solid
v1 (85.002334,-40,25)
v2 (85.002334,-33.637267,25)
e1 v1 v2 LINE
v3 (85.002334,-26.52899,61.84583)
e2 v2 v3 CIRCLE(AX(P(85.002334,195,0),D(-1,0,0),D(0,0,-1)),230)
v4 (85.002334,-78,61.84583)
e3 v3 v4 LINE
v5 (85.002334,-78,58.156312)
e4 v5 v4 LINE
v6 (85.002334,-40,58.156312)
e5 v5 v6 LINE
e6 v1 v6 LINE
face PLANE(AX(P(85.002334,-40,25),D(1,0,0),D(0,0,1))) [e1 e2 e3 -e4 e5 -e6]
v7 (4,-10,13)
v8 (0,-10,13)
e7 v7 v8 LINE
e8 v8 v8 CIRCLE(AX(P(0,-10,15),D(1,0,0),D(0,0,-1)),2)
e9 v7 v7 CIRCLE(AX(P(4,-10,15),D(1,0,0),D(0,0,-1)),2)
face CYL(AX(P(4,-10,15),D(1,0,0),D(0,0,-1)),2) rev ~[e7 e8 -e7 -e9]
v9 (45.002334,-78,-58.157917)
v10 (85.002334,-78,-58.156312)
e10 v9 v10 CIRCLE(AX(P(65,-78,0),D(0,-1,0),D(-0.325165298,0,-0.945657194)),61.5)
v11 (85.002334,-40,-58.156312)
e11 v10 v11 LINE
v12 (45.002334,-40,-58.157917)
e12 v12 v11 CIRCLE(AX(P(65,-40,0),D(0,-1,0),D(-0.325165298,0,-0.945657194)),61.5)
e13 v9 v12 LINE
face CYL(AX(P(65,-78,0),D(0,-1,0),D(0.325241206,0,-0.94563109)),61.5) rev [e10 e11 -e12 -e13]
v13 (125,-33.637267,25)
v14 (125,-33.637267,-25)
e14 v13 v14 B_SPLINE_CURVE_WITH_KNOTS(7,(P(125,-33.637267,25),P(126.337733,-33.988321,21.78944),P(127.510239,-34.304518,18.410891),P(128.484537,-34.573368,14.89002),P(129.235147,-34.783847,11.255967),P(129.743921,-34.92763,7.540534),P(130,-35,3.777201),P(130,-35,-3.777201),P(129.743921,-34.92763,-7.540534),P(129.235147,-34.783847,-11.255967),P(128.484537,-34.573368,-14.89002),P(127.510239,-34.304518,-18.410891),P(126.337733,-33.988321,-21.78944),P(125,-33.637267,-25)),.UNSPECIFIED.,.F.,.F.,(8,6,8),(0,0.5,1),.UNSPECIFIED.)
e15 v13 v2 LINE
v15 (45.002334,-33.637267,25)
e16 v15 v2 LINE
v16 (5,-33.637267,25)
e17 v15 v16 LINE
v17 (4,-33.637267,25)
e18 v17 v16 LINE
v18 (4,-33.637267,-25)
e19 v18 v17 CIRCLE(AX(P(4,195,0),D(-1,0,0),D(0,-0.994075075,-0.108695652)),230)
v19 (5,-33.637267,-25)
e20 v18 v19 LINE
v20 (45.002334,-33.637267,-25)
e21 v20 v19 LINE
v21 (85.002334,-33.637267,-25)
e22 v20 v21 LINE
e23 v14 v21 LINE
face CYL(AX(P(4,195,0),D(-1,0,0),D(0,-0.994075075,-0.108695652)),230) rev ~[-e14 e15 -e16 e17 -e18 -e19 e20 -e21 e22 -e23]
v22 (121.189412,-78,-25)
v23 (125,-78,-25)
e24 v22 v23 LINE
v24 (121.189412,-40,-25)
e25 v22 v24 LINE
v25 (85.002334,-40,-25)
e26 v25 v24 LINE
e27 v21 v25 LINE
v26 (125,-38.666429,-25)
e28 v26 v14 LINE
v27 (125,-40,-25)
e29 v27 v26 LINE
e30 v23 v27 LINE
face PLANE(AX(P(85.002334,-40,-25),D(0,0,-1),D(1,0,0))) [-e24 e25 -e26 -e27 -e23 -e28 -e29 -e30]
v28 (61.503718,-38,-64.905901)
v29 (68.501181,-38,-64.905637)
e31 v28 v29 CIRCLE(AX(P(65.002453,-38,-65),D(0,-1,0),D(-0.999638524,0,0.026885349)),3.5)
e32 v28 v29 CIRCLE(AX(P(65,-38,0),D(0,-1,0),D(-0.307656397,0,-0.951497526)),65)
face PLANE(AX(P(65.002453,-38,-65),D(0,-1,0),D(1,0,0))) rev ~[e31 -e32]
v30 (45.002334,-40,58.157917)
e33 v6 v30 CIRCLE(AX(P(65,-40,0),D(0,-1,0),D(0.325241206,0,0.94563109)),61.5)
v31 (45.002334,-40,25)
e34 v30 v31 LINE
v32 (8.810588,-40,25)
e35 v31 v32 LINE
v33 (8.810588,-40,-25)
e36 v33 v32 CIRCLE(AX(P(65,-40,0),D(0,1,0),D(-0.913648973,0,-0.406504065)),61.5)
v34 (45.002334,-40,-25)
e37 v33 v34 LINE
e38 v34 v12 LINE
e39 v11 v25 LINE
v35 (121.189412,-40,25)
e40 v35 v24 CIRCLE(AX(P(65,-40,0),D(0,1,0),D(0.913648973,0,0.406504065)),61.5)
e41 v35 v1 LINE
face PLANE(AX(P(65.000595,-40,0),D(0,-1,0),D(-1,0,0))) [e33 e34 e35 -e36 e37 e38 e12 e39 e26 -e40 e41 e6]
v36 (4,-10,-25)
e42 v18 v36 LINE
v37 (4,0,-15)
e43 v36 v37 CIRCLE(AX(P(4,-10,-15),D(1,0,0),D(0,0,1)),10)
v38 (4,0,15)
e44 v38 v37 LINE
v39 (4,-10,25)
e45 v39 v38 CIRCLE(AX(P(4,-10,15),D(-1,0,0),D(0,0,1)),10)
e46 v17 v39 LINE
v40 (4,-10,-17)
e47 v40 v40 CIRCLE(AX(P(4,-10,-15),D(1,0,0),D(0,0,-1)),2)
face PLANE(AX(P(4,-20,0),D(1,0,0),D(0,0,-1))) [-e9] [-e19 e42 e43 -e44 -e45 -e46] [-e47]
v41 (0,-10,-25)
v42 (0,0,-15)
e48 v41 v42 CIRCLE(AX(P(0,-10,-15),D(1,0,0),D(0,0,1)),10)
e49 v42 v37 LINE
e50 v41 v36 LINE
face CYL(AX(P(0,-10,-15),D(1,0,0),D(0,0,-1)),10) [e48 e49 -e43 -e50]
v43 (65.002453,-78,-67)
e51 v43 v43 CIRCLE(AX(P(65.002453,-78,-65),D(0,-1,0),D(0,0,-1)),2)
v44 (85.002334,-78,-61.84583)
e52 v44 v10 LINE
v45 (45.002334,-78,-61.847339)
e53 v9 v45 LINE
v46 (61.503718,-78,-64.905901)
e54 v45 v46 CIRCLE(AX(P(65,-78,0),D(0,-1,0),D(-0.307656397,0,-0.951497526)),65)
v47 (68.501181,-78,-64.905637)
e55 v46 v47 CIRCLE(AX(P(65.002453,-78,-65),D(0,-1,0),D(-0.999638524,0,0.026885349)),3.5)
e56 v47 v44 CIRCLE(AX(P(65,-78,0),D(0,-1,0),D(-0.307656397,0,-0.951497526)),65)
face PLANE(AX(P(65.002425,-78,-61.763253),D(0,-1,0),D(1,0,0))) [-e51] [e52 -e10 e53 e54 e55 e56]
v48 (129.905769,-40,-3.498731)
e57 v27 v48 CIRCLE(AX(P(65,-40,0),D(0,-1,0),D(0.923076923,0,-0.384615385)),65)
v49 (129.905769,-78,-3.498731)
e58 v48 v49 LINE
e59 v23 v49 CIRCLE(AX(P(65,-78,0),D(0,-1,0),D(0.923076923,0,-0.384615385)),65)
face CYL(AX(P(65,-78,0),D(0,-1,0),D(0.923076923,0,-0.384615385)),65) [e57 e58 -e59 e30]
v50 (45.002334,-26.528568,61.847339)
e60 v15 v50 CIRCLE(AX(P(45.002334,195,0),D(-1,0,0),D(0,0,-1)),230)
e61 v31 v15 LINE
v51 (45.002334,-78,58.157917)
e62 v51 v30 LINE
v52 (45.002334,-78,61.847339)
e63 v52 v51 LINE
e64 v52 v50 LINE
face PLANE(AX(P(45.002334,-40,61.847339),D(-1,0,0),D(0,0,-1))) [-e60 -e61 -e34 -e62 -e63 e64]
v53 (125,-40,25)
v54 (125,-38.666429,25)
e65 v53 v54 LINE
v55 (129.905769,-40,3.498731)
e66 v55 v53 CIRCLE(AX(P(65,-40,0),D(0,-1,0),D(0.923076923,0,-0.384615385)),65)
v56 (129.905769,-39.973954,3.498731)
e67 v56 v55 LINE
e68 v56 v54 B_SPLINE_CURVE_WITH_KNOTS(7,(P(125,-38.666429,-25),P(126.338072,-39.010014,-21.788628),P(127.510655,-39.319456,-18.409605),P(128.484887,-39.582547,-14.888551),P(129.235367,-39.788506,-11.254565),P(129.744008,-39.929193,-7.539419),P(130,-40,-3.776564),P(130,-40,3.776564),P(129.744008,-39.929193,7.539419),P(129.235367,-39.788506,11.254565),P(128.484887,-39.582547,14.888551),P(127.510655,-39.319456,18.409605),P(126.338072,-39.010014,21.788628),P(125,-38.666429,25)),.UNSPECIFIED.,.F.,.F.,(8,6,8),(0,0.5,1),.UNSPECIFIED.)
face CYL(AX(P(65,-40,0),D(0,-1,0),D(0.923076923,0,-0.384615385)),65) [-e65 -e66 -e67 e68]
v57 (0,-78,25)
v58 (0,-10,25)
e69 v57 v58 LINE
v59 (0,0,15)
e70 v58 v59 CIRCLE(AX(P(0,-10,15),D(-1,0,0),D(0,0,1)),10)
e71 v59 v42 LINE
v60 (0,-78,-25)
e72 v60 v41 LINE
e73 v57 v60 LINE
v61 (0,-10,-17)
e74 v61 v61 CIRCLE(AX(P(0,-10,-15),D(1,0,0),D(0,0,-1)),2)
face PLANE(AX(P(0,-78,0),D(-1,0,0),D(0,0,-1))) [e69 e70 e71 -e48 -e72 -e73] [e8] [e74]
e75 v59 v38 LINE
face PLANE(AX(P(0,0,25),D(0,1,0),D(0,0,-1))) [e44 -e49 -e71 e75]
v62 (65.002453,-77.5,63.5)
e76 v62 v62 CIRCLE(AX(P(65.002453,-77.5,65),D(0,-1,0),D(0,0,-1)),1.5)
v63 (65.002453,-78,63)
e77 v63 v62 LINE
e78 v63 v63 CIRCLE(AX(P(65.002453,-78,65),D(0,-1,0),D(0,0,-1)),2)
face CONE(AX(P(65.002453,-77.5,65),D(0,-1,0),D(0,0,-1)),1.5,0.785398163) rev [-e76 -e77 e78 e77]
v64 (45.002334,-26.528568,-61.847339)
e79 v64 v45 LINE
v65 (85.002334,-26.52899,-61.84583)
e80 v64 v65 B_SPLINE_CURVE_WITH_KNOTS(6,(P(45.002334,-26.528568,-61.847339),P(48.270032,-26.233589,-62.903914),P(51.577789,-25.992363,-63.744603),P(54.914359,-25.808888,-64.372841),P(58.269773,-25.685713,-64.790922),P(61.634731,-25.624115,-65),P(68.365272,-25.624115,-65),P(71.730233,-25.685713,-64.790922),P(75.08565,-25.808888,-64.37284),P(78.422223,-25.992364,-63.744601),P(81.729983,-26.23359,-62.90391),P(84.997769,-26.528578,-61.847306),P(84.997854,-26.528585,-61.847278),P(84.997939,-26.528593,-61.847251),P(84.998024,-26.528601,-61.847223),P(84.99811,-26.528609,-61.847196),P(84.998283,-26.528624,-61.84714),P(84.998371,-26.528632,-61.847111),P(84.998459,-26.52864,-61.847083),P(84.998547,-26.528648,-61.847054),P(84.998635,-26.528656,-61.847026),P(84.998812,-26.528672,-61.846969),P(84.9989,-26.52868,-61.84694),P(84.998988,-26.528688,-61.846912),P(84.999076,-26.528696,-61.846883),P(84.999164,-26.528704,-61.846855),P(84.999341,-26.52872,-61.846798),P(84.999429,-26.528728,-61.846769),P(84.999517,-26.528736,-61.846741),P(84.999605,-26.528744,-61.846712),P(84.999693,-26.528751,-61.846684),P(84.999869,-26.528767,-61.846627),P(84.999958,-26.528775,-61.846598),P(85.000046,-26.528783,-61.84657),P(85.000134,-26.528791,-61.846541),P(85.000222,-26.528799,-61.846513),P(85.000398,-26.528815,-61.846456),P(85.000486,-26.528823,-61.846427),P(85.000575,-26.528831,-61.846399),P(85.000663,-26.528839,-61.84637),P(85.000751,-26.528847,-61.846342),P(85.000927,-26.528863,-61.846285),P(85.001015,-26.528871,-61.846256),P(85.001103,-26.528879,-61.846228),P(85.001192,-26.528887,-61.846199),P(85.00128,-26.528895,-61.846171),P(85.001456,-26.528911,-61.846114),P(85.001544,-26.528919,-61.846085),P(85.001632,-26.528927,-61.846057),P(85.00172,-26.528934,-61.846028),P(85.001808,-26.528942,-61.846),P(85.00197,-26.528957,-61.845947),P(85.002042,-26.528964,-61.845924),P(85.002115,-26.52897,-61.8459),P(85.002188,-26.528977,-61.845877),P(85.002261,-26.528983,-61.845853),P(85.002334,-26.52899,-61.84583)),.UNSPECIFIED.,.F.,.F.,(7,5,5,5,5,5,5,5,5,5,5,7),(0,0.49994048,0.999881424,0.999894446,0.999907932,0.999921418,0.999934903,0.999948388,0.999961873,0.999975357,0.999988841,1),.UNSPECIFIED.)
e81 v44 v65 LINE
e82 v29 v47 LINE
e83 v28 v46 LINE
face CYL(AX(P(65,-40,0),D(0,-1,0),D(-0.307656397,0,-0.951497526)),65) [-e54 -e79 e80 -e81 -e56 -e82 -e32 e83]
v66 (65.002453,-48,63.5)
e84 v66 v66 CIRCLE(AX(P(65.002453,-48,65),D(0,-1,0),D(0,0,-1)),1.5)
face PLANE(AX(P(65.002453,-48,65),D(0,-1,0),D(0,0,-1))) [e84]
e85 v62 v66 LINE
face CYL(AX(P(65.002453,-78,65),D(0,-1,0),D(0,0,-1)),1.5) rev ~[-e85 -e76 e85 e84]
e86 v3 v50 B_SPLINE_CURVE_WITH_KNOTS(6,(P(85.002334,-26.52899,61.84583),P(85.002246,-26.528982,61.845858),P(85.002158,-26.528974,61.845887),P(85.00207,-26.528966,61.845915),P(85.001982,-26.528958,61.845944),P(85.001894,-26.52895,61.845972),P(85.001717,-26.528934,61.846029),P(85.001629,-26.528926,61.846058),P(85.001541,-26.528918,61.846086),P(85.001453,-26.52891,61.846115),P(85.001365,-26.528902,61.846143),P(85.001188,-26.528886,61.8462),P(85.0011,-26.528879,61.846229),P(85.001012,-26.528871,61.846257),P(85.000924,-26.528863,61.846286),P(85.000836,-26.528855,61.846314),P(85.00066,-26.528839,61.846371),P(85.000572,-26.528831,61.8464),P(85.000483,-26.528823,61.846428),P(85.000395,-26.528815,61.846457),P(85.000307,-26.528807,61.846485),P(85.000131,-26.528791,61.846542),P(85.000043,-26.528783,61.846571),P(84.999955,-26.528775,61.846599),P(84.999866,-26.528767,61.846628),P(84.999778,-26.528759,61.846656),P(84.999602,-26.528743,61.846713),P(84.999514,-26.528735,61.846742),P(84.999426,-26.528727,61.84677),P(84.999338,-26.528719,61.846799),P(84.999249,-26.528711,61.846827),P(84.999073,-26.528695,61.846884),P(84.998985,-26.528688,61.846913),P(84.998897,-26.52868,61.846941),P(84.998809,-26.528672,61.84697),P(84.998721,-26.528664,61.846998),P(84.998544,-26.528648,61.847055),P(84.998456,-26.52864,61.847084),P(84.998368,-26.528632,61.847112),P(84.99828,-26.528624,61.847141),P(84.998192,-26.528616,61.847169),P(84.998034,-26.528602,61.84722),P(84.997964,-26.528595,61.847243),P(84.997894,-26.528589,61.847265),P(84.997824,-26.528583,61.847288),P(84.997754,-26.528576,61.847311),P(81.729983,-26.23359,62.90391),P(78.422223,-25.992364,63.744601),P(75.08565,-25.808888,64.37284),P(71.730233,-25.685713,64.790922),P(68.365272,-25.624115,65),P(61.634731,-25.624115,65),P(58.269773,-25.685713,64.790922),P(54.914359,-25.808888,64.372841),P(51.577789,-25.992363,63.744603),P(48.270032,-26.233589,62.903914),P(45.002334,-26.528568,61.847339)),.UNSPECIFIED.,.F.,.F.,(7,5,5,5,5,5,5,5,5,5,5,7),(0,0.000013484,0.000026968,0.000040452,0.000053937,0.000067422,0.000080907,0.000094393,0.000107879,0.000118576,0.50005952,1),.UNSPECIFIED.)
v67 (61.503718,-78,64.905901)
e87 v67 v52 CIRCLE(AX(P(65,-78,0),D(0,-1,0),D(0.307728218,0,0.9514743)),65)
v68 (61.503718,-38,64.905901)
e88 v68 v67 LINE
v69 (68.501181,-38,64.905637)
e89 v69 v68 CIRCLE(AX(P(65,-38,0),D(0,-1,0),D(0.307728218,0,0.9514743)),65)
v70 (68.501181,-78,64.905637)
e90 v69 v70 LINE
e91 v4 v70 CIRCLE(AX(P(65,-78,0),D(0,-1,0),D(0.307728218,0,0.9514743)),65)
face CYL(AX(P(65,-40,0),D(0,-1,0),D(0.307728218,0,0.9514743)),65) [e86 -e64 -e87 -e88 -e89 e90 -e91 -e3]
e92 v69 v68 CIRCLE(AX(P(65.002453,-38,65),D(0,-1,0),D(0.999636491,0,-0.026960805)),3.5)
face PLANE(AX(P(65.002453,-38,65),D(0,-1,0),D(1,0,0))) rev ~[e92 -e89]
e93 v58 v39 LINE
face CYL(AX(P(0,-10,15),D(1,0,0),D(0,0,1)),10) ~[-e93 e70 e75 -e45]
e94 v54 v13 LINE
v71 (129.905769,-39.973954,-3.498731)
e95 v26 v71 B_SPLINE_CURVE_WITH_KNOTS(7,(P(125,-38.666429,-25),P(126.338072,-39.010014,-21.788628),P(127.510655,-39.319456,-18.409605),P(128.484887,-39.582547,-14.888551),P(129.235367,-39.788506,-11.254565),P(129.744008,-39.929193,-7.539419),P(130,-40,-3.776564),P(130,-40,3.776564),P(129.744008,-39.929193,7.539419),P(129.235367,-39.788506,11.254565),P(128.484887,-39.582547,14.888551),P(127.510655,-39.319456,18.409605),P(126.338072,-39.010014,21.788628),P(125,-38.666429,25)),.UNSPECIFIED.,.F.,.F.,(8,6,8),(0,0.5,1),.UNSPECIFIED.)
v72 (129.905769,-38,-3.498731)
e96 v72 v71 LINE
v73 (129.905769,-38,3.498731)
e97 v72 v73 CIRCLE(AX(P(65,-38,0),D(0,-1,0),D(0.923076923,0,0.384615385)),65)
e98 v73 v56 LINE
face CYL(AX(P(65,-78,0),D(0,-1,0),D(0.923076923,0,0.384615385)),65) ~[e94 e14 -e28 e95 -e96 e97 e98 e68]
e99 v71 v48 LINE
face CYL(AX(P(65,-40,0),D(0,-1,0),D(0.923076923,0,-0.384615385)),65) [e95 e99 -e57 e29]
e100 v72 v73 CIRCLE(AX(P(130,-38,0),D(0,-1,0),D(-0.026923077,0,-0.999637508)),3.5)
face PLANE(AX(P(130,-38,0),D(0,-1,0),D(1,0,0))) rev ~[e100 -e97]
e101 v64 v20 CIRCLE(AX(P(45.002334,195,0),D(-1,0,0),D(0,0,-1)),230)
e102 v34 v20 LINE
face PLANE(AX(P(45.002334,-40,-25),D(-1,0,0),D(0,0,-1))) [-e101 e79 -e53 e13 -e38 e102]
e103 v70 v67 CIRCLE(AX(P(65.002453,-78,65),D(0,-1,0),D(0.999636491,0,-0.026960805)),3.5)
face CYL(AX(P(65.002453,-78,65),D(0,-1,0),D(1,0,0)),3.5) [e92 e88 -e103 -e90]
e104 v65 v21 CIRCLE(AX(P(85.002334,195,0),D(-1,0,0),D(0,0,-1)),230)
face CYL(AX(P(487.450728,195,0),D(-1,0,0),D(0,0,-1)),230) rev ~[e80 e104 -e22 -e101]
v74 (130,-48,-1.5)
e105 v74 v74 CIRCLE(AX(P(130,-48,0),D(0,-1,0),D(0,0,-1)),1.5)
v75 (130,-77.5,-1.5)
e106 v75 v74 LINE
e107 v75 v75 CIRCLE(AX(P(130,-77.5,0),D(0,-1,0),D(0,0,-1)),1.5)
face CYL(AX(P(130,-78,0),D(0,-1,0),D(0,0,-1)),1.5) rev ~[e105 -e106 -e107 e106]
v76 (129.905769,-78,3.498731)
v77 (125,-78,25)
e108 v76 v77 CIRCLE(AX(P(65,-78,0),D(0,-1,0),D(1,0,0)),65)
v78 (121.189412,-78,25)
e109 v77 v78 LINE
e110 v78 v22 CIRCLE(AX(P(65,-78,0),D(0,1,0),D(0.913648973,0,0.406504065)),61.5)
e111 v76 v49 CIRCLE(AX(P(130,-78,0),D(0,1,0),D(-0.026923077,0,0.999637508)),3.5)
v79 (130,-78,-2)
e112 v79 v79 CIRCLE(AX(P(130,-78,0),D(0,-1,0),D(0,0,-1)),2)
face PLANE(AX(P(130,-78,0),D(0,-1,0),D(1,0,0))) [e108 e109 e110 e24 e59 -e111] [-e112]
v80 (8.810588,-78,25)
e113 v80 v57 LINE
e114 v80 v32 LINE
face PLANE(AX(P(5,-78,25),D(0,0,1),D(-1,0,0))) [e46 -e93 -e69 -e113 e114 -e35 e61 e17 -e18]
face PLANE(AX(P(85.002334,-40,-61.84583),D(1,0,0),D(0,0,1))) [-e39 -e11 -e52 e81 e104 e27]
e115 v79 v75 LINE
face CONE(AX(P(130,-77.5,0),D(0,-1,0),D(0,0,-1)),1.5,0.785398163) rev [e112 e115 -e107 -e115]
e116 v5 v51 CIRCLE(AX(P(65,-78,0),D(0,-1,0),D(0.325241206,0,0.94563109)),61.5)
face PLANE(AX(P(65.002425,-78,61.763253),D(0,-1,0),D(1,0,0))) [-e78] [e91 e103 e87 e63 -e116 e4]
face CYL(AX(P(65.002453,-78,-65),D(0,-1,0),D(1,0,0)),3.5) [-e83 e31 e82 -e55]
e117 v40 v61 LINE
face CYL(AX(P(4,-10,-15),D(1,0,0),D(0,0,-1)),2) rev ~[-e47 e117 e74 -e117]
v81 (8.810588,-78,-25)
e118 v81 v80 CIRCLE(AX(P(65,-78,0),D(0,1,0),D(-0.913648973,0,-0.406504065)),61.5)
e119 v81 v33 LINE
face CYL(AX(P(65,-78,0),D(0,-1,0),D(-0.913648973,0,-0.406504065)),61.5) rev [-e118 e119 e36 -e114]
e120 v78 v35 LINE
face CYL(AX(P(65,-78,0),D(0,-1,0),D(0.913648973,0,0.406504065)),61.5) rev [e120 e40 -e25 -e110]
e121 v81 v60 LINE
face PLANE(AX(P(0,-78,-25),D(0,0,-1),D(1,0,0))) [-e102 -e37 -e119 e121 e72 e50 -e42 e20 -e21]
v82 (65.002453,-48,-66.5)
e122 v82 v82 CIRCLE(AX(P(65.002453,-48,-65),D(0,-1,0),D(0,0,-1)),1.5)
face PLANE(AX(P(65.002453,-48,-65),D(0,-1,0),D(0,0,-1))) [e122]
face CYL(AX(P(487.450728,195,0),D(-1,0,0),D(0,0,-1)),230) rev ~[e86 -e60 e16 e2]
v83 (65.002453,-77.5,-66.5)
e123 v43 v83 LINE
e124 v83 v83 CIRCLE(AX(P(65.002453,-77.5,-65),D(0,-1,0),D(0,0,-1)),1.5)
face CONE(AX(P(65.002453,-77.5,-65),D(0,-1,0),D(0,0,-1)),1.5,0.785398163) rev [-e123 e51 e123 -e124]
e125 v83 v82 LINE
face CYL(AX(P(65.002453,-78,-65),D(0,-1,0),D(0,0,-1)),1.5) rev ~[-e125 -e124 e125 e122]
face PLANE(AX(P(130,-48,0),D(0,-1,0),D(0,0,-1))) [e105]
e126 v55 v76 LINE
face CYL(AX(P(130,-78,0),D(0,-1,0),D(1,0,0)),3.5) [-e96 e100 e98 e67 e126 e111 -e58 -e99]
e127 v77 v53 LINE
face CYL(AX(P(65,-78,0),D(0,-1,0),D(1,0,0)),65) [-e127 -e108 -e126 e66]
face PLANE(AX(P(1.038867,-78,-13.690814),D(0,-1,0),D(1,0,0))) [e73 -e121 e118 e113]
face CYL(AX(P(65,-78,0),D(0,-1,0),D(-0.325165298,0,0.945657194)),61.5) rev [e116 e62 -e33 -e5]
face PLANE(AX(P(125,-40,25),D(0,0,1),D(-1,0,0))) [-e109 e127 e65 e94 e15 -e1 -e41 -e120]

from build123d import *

# Parameters (mm, degrees)
SKETCH_1_W           = 50
SKETCH_1_H           = 40
EXTRUDE_1_DEPTH      = 4
SKETCH_2_R           = 2
CUT_EXTRUDE_1_DEPTH  = 4
EXTRUDE_2_DEPTH      = 180
CUT_EXTRUDE_START    = -60
CUT_EXTRUDE_2_DEPTH  = 60
CUT_EXTRUDE_3_DEPTH  = 60
EXTRUDE_3_REACH      = 191.95
EXTRUDE_3_END_RADIUS = 230
EXTRUDE_START        = 38
EXTRUDE_4_DEPTH      = 38
CUT_EXTRUDE_4_DEPTH  = 211.154705038
SKETCH_9_R           = 3.5
EXTRUDE_5_DEPTH      = 40
SKETCH_10_R          = 1.5
CUT_EXTRUDE_5_DEPTH  = 30
CHAMFER_1_SIZE       = 0.5
EXTRUDE_6_REACH      = 171.111
EXTRUDE_6_END_RADIUS = 235
EXTRUDE_7_REACH      = 171.111
FILLET_1_R           = 10


with BuildPart() as part:
    # 草图1 → 凸台-拉伸1 (new body)
    with BuildSketch(Plane(origin=(0, 0, 0), x_dir=(0, 0, -1), z_dir=(1, 0, 0))):
        with Locations((0, -20)):
            Rectangle(SKETCH_1_W, SKETCH_1_H)
    extrude(amount=EXTRUDE_1_DEPTH)

    # 草图2 → 切除-拉伸1 (cut)
    with BuildSketch(Plane(origin=(4, 0, 0), x_dir=(0, 0, -1), z_dir=(1, 0, 0))):
        with Locations((-15, -10)):
            Circle(SKETCH_2_R)
        with Locations((15, -10)):
            Circle(SKETCH_2_R)
    extrude(amount=-CUT_EXTRUDE_1_DEPTH, mode=Mode.SUBTRACT)

    # 草图3 → 凸台-拉伸2 (add)
    with BuildSketch(Plane(origin=(4, 0, 0), x_dir=(0, 0, -1), z_dir=(1, 0, 0))):
        with BuildLine():
            Line((-25, -33.637267303), (-25, -38.666428911))
            ThreePointArc((-25, -38.666428911), (0, -40), (25, -38.666428911))
            Line((25, -38.666428911), (25, -33.637267303))
            ThreePointArc((25, -33.637267303), (0, -35), (-25, -33.637267303))
        make_face()
    extrude(amount=EXTRUDE_2_DEPTH)

    # 草图4 → 切除-拉伸2 (cut)
    with BuildSketch(Plane(origin=(4, 0, 0), x_dir=(0, 0, -1), z_dir=(1, 0, 0)).offset(CUT_EXTRUDE_START)):
        with BuildLine():
            Line((25, -40), (25, -38.666428911))
            ThreePointArc((25, -38.666428911), (12.517771485, -39.666370401), (0, -40))
            Line((0, -40), (25, -40))
        make_face()
    extrude(amount=CUT_EXTRUDE_2_DEPTH, mode=Mode.SUBTRACT)

    # 草图5 → 切除-拉伸3 (cut)
    with BuildSketch(Plane(origin=(4, 0, 0), x_dir=(0, 0, -1), z_dir=(1, 0, 0)).offset(CUT_EXTRUDE_START)):
        with BuildLine():
            Line((-25, -38.666428911), (-25, -40))
            Line((-25, -40), (0, -40))
            ThreePointArc((0, -40), (-12.517771485, -39.666370401), (-25, -38.666428911))
        make_face()
    extrude(amount=CUT_EXTRUDE_3_DEPTH, mode=Mode.SUBTRACT)

    # 凸台-拉伸3: up to this cylinder (the profile starts outside it)
    extrude_3_end = Plane(origin=(65.000728, 195, 0), z_dir=(-1, 0, 0)) * Cylinder(EXTRUDE_3_END_RADIUS, 844.9, mode=Mode.PRIVATE)
    # 草图6 → 凸台-拉伸3 (add, up to the surface)
    with BuildSketch(Plane(origin=(0, -40, 0), x_dir=(-1, 0, 0), z_dir=(0, -1, 0)), mode=Mode.PRIVATE) as extrude_3_sk1:
        with BuildLine():
            Line((-85.002334196, 61.845829501), (-85.002334196, 25))
            Line((-85.002334196, 25), (-125, 25))
            ThreePointArc((-125, 25), (-130, 0), (-125, -25))
            Line((-125, -25), (-85.002334196, -25))
            Line((-85.002334196, -25), (-85.002334196, -61.845829501))
            ThreePointArc((-85.002334196, -61.845829501), (-65.002453212, -64.999999954), (-45.002334196, -61.84733917))
            Line((-45.002334196, -61.84733917), (-45.002334196, -25))
            Line((-45.002334196, -25), (-5, -25))
            ThreePointArc((-5, -25), (0, 0), (-5, 25))
            Line((-5, 25), (-45.002334196, 25))
            Line((-45.002334196, 25), (-45.002334196, 61.84733917))
            ThreePointArc((-45.002334196, 61.84733917), (-65.002453212, 64.999999954), (-85.002334196, 61.845829501))
        make_face()
    extrude_3_tool1 = extrude(extrude_3_sk1.sketch, amount=-EXTRUDE_3_REACH, mode=Mode.PRIVATE) - extrude_3_end
    extrude_3 = extrude_3_tool1.solids().sort_by_distance((65.000728, -40, 0))[0]
    add(extrude_3)

    # 镜向1: 凸台-拉伸3 across plane
    add(extrude_3.mirror(Plane.XY))

    # 草图7 → 凸台-拉伸4 (add)
    with BuildSketch(Plane.XZ.offset(40).offset(EXTRUDE_START)):
        with BuildLine():
            Line((5, -25), (8.810588186, -25))
            ThreePointArc((8.810588186, -25), (3.5, 0), (8.810588186, 25))
            Line((8.810588186, 25), (5, 25))
            ThreePointArc((5, 25), (1.26225608, 12.747548784), (0, 0))
            ThreePointArc((0, 0), (1.26225608, -12.747548784), (5, -25))
        make_face()
        with BuildLine():
            Line((45.002334196, -58.157917452), (45.002334196, -61.84733917))
            ThreePointArc((45.002334196, -61.84733917), (65.002453212, -64.999999954), (85.002334196, -61.845829501))
            Line((85.002334196, -61.845829501), (85.002334196, -58.156312011))
            ThreePointArc((85.002334196, -58.156312011), (65.002468367, -61.49999995), (45.002334196, -58.157917452))
        make_face()
        with BuildLine():
            Line((121.189411814, -25), (125, -25))
            ThreePointArc((125, -25), (128.73774392, -12.747548784), (130, 0))
            ThreePointArc((130, 0), (128.73774392, 12.747548784), (125, 25))
            Line((125, 25), (121.189411814, 25))
            ThreePointArc((121.189411814, 25), (126.5, 0), (121.189411814, -25))
        make_face()
        with BuildLine():
            Line((85.002334196, 58.156312011), (85.002334196, 61.845829501))
            ThreePointArc((85.002334196, 61.845829501), (65.002453212, 64.999999954), (45.002334196, 61.84733917))
            Line((45.002334196, 61.84733917), (45.002334196, 58.157917452))
            ThreePointArc((45.002334196, 58.157917452), (65.002468367, 61.49999995), (85.002334196, 58.156312011))
        make_face()
    extrude(amount=-EXTRUDE_4_DEPTH)

    # 草图8 → 切除-拉伸4 (cut, through all)
    with BuildSketch(Plane.XZ.offset(78)):
        with BuildLine():
            Line((184, 25), (125, 25))
            ThreePointArc((125, 25), (130, 0), (125, -25))
            Line((125, -25), (184, -25))
            Line((184, -25), (184, 25))
        make_face()
    extrude(amount=-CUT_EXTRUDE_4_DEPTH, mode=Mode.SUBTRACT)

    # 草图9 → 凸台-拉伸5 (add)
    with BuildSketch(Plane.XZ.offset(78)):
        with Locations((130, 0)):
            Circle(SKETCH_9_R)
        with Locations((65.002453212, -64.999999954)):
            Circle(SKETCH_9_R)
        with Locations((65.002453212, 64.999999954)):
            Circle(SKETCH_9_R)
    extrude(amount=-EXTRUDE_5_DEPTH)

    # 草图10 → 切除-拉伸5 (cut)
    with BuildSketch(Plane.XZ.offset(78)):
        with Locations(Location((65.002453212, 64.999999954, 0), (0, 0, 270))):
            Circle(SKETCH_10_R)
        with Locations(Location((130, 0, 0), (0, 0, 270))):
            Circle(SKETCH_10_R)
        with Locations(Location((65.002453212, -64.999999954, 0), (0, 0, 270))):
            Circle(SKETCH_10_R)
    extrude(amount=-CUT_EXTRUDE_5_DEPTH, mode=Mode.SUBTRACT)

    # 倒角1
    chamfer_1_edges = [part.edges().sort_by_distance(p)[0] for p in [
        (65.002453212, -78, 66.499999954),
        (130, -78, 1.5),
        (65.002453212, -78, -63.499999954),
    ]]
    chamfer(chamfer_1_edges, length=CHAMFER_1_SIZE)

    # 凸台-拉伸6: up to this cylinder (the profile starts outside it)
    extrude_6_end = Plane(origin=(1.489564, 195, 0), z_dir=(-1, 0, 0)) * Cylinder(EXTRUDE_6_END_RADIUS, 813.222, mode=Mode.PRIVATE)
    # 草图11 → 凸台-拉伸6 (add, up to the surface)
    with BuildSketch(Plane.XZ.offset(78), mode=Mode.PRIVATE) as extrude_6_sk1:
        with BuildLine():
            Line((0, 25), (0, 0))
            ThreePointArc((0, 0), (1.26225608, 12.747548784), (5, 25))
            Line((5, 25), (0, 25))
        make_face()
    extrude_6_tool1 = extrude(extrude_6_sk1.sketch, amount=-EXTRUDE_6_REACH, mode=Mode.PRIVATE) - extrude_6_end
    add(extrude_6_tool1.solids().sort_by_distance((1.489564, -78, 18.799089))[0])

    # 草图12 → 凸台-拉伸7 (add, up to next)
    with BuildSketch(Plane.XZ.offset(78), mode=Mode.PRIVATE) as extrude_7_sk1:
        with BuildLine():
            Line((0, -25), (5, -25))
            ThreePointArc((5, -25), (1.26225608, -12.747548784), (0, 0))
            Line((0, 0), (0, -25))
        make_face()
    extrude_7_tool1 = extrude(extrude_7_sk1.sketch, amount=-EXTRUDE_7_REACH, mode=Mode.PRIVATE) - part.part
    add(extrude_7_tool1.solids().sort_by_distance((1.489564, -78, -18.799089))[0])

    # 圆角1
    fillet_1_edges = [part.edges().sort_by_distance(p)[0] for p in [
        (2, 0, 25),
        (2, 0, -25),
    ]]
    fillet(fillet_1_edges, radius=FILLET_1_R)


solid = part.part
